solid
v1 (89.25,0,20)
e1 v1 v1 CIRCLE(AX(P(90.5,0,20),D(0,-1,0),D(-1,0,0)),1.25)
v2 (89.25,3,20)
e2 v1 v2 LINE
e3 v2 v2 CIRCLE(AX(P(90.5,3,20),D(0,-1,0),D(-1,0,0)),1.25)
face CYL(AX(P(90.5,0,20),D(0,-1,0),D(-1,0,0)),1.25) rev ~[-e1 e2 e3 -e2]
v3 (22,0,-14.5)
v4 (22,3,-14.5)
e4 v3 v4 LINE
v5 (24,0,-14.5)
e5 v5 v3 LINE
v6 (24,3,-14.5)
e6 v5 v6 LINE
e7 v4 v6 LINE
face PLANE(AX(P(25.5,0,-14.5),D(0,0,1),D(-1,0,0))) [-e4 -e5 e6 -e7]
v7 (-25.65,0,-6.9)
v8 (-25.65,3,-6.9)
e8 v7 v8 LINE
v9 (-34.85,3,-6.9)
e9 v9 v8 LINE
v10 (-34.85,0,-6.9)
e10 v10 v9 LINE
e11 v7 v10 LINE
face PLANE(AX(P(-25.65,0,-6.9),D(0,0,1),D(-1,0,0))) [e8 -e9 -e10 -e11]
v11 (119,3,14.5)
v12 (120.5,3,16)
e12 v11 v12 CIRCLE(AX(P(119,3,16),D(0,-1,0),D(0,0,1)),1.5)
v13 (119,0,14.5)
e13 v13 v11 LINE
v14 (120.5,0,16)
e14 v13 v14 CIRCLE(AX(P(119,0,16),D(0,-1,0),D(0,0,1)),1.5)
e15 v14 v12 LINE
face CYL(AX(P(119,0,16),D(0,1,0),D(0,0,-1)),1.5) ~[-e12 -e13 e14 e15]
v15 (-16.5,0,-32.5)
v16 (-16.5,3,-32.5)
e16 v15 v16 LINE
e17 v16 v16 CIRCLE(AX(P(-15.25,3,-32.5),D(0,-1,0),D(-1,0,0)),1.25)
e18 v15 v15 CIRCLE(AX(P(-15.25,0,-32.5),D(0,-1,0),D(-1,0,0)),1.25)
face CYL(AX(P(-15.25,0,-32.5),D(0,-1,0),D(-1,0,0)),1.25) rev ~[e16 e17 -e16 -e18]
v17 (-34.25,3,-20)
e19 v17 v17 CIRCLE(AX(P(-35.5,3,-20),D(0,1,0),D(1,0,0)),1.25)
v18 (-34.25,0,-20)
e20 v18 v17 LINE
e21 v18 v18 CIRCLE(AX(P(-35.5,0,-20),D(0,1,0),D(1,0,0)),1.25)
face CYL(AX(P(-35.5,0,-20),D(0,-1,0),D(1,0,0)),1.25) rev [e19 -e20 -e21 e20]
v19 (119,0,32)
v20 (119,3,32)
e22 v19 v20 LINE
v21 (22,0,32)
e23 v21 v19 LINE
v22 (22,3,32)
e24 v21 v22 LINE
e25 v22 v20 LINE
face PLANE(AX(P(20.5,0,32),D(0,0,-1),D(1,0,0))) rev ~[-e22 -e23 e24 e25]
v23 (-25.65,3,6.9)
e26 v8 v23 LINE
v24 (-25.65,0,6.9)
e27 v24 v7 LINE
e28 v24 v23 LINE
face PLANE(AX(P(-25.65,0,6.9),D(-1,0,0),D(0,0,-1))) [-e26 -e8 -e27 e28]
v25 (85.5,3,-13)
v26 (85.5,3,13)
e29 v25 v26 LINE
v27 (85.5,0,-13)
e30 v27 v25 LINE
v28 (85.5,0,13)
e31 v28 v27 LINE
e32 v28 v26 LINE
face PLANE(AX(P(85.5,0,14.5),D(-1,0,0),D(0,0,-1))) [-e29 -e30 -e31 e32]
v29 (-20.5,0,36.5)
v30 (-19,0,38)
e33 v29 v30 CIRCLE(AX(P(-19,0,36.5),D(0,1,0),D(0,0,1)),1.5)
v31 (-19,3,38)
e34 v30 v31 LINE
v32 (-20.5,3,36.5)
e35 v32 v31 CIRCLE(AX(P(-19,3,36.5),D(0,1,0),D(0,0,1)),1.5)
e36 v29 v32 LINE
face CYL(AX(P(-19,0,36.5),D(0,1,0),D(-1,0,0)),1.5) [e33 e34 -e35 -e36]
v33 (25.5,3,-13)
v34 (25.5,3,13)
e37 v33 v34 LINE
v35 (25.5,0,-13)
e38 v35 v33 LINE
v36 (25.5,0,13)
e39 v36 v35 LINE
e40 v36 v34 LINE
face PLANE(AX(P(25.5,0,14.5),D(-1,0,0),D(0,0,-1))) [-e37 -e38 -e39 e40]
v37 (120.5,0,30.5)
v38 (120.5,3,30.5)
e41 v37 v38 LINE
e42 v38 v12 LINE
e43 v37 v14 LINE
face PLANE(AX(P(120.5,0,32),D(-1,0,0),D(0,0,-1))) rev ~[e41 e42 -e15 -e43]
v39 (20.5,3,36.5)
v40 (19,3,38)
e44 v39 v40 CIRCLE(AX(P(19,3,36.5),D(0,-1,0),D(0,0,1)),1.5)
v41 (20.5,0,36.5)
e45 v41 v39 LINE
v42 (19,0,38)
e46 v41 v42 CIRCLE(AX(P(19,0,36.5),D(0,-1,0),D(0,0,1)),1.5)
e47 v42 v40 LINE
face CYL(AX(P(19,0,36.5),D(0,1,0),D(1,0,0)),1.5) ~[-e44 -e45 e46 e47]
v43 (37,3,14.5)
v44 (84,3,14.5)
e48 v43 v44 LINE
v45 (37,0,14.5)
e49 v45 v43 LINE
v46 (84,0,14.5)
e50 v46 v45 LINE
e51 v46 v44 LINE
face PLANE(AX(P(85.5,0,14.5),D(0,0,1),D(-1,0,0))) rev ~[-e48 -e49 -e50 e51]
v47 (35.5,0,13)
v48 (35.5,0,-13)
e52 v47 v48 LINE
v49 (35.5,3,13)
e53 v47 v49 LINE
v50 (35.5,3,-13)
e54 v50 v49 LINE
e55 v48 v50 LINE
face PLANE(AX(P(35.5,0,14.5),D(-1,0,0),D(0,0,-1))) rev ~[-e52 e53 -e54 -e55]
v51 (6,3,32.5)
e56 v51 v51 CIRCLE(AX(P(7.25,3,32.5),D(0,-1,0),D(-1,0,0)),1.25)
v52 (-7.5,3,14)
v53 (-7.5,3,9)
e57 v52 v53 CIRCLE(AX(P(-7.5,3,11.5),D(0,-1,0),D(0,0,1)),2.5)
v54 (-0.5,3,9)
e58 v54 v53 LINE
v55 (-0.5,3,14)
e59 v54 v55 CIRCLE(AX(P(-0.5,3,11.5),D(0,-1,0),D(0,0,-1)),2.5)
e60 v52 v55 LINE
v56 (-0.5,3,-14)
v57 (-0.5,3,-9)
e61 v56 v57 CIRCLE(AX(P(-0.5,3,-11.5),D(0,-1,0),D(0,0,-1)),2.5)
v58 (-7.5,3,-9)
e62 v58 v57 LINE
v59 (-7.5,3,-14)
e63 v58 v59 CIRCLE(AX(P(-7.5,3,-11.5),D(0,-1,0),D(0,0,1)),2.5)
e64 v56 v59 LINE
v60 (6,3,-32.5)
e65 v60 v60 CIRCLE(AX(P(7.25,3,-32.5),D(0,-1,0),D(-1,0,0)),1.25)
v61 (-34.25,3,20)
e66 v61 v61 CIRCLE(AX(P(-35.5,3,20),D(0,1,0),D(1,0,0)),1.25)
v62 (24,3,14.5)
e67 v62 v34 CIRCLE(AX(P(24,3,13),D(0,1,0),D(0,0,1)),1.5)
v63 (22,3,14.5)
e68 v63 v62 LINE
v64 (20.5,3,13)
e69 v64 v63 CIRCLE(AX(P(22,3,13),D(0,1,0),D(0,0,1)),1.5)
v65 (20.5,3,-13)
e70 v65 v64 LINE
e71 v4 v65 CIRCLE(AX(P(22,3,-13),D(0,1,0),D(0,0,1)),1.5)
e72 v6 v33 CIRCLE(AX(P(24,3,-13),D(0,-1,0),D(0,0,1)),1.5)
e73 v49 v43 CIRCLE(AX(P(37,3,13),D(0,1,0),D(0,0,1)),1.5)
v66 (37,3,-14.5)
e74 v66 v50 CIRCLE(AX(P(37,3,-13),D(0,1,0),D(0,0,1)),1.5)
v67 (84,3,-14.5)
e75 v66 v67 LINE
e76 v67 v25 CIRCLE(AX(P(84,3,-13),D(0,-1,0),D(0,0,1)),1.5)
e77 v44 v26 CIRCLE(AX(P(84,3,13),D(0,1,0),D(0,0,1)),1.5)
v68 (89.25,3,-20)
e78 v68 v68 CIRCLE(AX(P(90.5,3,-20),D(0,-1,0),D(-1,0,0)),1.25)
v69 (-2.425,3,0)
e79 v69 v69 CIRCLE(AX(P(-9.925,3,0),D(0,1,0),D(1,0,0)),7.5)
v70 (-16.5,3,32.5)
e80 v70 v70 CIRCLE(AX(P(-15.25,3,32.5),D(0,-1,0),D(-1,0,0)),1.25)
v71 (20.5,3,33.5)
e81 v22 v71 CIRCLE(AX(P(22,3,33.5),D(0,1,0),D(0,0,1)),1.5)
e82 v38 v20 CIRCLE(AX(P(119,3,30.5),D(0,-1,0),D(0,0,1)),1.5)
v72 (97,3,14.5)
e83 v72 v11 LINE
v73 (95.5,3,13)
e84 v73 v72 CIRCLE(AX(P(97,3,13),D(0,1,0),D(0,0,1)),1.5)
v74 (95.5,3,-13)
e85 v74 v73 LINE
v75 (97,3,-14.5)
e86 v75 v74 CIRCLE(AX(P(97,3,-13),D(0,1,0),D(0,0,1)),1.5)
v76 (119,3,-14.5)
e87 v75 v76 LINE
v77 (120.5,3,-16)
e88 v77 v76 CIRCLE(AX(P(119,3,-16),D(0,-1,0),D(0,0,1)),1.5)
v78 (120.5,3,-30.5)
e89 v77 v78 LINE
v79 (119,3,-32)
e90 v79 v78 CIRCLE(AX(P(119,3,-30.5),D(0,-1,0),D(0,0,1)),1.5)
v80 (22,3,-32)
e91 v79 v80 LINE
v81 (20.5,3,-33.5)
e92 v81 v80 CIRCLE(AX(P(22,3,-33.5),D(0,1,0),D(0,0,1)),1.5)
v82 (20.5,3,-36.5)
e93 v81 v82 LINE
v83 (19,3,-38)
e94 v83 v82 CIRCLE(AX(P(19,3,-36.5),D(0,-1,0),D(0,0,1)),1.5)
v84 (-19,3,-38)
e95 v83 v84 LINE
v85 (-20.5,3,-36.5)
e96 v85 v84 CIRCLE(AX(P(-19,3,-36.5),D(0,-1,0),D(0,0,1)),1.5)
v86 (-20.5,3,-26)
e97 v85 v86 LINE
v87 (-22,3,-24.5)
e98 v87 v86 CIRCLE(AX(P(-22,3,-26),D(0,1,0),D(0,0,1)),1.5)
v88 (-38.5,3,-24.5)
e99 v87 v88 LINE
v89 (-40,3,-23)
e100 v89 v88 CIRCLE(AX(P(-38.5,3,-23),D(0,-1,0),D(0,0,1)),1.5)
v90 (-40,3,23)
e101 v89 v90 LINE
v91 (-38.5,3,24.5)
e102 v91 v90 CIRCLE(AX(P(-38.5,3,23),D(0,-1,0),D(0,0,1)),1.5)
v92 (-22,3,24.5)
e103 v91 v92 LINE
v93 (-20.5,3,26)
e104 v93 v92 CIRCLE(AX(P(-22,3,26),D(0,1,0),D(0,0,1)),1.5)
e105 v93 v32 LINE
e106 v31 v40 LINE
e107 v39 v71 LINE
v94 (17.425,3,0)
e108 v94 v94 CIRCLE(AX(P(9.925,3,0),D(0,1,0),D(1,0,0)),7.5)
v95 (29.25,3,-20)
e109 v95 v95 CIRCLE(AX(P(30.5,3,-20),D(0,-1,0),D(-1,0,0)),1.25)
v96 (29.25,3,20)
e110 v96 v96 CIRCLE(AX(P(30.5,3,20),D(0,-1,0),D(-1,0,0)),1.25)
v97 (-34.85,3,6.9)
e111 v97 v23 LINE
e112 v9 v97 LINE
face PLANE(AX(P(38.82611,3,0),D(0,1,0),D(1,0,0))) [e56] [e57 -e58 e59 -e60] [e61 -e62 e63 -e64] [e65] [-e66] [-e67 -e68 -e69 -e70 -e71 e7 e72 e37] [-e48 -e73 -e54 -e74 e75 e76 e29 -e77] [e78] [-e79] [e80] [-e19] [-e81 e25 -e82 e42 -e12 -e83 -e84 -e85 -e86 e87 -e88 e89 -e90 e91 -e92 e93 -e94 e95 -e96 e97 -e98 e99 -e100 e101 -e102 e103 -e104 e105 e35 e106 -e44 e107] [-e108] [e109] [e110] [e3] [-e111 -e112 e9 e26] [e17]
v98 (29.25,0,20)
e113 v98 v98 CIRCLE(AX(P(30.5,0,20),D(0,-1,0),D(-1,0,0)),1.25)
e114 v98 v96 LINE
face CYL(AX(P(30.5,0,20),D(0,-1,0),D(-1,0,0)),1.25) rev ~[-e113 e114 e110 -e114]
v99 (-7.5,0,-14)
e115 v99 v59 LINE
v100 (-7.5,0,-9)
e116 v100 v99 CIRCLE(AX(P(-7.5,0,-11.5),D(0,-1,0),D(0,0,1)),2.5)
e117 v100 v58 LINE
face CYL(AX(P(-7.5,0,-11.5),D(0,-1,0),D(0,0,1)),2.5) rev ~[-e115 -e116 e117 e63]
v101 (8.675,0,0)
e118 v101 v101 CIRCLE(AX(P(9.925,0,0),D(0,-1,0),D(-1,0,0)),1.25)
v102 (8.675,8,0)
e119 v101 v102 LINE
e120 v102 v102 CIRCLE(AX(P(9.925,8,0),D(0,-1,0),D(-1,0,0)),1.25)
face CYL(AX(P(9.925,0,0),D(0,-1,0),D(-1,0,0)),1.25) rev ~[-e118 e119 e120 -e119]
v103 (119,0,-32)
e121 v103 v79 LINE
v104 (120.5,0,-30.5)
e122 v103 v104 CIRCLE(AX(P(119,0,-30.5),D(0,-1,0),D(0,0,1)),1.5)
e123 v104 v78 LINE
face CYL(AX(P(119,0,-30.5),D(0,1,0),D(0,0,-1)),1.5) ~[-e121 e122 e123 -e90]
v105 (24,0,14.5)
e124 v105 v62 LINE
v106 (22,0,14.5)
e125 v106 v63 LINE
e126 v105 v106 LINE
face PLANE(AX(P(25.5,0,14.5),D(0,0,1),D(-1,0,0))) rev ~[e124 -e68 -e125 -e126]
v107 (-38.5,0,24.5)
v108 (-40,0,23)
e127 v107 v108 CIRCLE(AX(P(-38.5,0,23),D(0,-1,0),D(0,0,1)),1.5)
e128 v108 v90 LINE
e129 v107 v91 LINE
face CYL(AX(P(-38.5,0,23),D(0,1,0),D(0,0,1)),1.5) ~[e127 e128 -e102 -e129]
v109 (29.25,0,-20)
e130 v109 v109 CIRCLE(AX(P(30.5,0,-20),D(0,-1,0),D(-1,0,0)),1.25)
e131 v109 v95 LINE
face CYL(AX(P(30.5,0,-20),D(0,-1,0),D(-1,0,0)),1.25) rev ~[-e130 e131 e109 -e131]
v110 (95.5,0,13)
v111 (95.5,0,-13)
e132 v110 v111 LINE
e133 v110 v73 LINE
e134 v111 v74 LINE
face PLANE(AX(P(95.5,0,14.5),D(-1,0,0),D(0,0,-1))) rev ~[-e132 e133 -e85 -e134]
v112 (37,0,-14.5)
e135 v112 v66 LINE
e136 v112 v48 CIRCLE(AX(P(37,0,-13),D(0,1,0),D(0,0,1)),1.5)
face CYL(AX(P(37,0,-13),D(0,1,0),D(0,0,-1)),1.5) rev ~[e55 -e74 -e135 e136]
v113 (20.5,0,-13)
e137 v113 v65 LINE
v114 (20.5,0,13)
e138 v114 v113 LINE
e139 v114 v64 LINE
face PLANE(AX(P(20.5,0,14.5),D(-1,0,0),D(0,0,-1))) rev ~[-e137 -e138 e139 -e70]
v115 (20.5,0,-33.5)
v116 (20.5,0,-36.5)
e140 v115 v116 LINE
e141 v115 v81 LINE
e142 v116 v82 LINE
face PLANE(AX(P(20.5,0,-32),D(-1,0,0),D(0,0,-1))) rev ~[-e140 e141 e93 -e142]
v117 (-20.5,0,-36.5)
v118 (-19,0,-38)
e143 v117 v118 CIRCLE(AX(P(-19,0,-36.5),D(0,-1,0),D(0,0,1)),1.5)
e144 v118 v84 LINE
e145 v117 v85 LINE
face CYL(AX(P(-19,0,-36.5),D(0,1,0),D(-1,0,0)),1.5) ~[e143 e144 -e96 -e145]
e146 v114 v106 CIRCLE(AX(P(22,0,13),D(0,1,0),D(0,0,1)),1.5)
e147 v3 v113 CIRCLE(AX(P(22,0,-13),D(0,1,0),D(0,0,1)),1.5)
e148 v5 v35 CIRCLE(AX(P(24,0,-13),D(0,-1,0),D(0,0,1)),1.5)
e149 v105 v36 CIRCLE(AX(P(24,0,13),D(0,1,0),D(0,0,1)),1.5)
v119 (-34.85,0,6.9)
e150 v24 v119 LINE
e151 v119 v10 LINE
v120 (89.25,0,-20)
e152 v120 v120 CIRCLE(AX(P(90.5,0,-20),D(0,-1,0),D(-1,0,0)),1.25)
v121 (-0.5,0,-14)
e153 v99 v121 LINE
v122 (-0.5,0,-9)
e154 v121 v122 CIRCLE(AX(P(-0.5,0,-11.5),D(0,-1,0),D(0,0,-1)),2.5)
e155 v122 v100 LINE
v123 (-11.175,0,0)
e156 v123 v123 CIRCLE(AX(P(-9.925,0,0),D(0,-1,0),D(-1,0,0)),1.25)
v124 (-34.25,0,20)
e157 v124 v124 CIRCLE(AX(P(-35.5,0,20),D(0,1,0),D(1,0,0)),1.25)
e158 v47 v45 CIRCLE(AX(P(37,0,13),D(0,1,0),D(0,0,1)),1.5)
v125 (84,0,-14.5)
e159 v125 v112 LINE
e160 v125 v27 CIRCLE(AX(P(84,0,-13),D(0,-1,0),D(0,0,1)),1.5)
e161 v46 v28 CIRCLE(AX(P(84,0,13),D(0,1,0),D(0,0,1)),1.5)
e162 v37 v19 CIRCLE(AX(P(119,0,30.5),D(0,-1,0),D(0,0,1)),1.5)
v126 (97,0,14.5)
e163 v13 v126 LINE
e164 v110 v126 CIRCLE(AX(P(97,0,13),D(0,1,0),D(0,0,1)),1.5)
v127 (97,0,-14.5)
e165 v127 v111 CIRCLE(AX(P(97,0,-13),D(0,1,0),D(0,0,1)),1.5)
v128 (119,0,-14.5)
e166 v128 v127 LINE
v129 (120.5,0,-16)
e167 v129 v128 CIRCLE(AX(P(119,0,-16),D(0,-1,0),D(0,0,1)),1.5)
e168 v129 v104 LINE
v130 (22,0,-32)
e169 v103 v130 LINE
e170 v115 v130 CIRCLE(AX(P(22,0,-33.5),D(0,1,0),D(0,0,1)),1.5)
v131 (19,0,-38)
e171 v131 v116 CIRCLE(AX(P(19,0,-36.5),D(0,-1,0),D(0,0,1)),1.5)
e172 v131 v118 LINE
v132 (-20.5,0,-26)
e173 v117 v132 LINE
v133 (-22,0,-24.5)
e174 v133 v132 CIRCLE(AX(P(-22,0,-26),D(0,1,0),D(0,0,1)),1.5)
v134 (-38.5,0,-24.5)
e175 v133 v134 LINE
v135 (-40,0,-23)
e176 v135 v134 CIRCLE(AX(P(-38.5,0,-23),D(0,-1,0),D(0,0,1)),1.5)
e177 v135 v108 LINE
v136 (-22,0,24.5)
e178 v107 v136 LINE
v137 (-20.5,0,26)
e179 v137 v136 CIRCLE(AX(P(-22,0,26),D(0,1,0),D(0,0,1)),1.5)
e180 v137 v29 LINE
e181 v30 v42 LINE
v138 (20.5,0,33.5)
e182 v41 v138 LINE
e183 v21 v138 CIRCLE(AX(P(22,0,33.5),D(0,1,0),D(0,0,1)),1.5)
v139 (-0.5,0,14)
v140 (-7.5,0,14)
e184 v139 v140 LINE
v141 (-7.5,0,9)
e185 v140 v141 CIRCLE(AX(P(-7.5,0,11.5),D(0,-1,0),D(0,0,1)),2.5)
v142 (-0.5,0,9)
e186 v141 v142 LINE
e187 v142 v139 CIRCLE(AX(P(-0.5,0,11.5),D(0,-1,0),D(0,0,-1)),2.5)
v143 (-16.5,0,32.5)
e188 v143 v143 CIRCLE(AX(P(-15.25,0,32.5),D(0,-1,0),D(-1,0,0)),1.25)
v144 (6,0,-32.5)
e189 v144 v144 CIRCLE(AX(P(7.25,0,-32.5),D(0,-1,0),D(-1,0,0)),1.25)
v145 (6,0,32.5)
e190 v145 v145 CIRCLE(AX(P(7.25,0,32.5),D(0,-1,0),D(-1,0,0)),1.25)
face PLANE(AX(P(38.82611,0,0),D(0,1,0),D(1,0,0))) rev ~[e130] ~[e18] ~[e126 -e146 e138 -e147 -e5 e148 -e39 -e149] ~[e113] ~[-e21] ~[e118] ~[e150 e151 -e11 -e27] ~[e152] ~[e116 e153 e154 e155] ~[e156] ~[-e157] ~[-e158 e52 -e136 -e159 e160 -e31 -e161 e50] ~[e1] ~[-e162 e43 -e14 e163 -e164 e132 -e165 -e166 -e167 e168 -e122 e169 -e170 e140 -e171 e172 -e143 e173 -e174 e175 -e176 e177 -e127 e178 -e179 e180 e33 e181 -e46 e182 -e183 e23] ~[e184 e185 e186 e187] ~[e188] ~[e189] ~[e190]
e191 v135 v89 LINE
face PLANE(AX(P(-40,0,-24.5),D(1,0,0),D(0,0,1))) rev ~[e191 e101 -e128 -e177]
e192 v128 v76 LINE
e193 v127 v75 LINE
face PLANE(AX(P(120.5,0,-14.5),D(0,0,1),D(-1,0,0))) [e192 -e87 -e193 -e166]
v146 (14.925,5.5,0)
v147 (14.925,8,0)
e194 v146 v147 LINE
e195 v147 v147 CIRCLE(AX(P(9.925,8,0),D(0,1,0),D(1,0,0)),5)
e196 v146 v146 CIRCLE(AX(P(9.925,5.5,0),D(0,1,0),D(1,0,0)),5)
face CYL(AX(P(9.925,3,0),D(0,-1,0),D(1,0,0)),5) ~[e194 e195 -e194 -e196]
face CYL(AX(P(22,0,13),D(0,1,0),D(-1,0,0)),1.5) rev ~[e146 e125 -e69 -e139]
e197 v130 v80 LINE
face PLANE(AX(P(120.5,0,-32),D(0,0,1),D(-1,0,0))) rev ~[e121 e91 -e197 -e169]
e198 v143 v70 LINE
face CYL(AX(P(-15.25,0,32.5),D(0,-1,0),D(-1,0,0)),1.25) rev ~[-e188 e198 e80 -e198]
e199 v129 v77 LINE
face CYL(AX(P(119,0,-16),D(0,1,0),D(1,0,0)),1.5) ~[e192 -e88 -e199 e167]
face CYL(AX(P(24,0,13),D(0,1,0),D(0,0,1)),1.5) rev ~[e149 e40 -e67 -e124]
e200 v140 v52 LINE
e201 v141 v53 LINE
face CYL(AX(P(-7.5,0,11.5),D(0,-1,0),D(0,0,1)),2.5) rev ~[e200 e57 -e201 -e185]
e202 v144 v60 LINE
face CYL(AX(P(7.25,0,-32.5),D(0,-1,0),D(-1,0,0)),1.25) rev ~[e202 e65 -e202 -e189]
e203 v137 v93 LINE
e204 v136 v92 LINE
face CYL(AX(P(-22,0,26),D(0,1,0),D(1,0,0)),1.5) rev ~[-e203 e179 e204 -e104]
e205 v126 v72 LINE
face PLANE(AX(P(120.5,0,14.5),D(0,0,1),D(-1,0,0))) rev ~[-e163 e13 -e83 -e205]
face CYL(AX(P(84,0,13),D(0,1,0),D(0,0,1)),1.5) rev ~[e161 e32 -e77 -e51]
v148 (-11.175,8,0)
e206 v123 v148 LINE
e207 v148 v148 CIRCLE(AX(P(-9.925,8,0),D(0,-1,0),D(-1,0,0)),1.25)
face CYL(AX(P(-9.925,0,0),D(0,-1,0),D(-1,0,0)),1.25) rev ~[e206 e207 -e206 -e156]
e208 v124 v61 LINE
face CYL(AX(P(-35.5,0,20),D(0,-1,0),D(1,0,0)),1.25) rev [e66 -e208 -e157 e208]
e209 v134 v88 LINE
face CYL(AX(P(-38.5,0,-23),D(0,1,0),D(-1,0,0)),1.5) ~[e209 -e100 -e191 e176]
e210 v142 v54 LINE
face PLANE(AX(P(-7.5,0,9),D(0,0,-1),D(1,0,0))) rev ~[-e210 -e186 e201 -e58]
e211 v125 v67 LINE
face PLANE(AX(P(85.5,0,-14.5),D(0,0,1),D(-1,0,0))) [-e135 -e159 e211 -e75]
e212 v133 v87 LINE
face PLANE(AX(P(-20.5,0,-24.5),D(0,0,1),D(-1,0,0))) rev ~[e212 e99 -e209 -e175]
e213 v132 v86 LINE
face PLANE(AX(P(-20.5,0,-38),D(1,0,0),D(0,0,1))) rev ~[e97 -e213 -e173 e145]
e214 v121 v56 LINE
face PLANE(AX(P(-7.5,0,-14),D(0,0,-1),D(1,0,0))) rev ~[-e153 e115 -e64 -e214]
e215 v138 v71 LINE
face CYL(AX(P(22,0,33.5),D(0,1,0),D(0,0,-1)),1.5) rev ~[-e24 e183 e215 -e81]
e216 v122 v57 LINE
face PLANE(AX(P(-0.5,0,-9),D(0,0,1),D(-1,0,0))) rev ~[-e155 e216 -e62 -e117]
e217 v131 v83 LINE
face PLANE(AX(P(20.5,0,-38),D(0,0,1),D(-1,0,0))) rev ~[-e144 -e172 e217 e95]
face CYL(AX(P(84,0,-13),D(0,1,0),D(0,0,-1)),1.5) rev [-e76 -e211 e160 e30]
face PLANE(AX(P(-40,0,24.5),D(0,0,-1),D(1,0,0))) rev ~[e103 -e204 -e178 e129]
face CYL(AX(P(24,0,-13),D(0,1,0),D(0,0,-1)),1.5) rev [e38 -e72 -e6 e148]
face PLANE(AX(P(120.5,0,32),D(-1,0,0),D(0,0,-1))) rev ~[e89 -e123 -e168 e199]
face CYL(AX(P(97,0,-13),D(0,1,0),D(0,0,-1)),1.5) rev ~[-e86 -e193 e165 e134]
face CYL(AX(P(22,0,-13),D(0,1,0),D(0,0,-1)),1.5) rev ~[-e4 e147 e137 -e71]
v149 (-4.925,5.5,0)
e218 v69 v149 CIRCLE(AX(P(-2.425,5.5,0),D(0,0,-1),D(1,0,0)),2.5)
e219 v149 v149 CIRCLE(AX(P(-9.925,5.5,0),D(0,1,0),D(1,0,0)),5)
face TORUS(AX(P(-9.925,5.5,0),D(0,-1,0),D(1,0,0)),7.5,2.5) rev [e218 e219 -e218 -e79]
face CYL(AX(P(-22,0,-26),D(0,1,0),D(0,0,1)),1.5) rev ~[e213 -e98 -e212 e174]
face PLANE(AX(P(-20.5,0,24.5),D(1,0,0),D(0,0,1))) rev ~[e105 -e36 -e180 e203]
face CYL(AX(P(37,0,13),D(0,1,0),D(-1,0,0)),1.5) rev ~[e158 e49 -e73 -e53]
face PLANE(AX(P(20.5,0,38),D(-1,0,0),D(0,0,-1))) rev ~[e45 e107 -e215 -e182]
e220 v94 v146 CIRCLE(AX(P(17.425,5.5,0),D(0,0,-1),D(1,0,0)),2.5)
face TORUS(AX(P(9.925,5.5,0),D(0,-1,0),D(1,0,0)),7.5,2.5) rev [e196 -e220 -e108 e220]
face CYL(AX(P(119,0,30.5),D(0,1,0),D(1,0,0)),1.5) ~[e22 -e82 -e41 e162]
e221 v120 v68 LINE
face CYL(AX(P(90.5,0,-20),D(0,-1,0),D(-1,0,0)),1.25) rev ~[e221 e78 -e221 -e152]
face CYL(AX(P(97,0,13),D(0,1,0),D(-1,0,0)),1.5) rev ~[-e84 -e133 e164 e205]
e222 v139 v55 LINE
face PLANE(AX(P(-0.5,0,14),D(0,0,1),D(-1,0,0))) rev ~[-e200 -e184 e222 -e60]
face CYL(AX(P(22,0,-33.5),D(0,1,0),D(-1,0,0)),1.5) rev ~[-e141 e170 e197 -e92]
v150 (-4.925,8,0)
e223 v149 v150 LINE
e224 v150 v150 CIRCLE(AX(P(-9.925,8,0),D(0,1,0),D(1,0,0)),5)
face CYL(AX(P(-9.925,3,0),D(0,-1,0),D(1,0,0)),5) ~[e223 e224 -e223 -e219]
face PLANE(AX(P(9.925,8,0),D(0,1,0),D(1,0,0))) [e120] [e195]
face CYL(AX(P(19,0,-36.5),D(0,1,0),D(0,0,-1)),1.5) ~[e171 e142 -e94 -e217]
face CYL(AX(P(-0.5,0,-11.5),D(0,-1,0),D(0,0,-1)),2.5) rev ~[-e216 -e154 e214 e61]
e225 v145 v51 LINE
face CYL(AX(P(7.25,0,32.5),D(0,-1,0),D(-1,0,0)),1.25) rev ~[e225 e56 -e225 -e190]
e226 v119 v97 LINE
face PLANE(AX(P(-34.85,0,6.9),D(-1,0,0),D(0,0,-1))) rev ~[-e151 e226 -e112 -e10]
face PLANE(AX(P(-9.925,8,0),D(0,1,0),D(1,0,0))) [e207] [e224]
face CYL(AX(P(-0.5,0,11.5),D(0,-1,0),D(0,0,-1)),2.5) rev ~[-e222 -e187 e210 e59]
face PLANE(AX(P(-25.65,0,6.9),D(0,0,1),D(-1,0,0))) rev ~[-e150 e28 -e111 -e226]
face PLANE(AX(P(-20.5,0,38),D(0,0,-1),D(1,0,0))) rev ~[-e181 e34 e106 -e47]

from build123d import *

# Parameters (mm, degrees)
SKETCH1_R           = 1.25
BOSS_EXTRUDE1_DEPTH = 3
SKETCH2_R           = 5
BOSS_EXTRUDE2_DEPTH = 5
FILLET1_R           = 2.5
SKETCH3_W           = 5
SKETCH3_H           = 29
SKETCH3_W_2         = 9.2
SKETCH3_H_2         = 13.8
SKETCH3_W_3         = 25
SKETCH3_W_4         = 50
SKETCH3_R           = 1.25
CUT_EXTRUDE1_DEPTH  = 9
FILLET2_R           = 1.5


with BuildPart() as part:
    # Sketch1 → Boss-Extrude1 (new body)
    with BuildSketch(Plane(origin=(0, 0, 0), x_dir=(1, 0, 0), z_dir=(0, 1, 0))):
        Polygon((-20.5, -38), (20.5, -38), (20.5, -32), (120.5, -32), (120.5, 32), (20.5, 32), (20.5, 38), (-20.5, 38), (-20.5, 24.5), (-40, 24.5), (-40, -24.5), (-20.5, -24.5), align=None)
        with Locations((-35.5, 20)):
            Circle(SKETCH1_R, mode=Mode.SUBTRACT)
        with Locations((-35.5, -20)):
            Circle(SKETCH1_R, mode=Mode.SUBTRACT)
    extrude(amount=BOSS_EXTRUDE1_DEPTH)

    # Sketch2 → Boss-Extrude2 (add)
    with BuildSketch(Plane(origin=(0, 3, 0), x_dir=(1, 0, 0), z_dir=(0, 1, 0))):
        with Locations((-9.925, 0)):
            Circle(SKETCH2_R)
        with Locations((9.925, 0)):
            Circle(SKETCH2_R)
    extrude(amount=BOSS_EXTRUDE2_DEPTH)

    # Fillet1
    fillet1_edges = [part.edges().sort_by_distance(p)[0] for p in [
        (-14.925, 3, 0),
        (4.925, 3, 0),
    ]]
    fillet(fillet1_edges, radius=FILLET1_R)

    # Sketch3 → Cut-Extrude1 (cut, through all)
    with BuildSketch(Plane(origin=(0, 0, 0), x_dir=(-1, 0, 0), z_dir=(0, -1, 0))):
        with Locations((-23, 0)):
            Rectangle(SKETCH3_W, SKETCH3_H)
        with BuildLine():
            Line((0.5, 9), (7.5, 9))
            ThreePointArc((7.5, 9), (10, 11.5), (7.5, 14))
            Line((7.5, 14), (0.5, 14))
            ThreePointArc((0.5, 14), (-2, 11.5), (0.5, 9))
        make_face()
        with BuildLine():
            Line((0.5, -14), (7.5, -14))
            ThreePointArc((7.5, -14), (10, -11.5), (7.5, -9))
            Line((7.5, -9), (0.5, -9))
            ThreePointArc((0.5, -9), (-2, -11.5), (0.5, -14))
        make_face()
        with Locations((30.25, 0)):
            Rectangle(SKETCH3_W_2, SKETCH3_H_2)
        with Locations((-108, 0)):
            Rectangle(SKETCH3_W_3, SKETCH3_H)
        with Locations((-60.5, 0)):
            Rectangle(SKETCH3_W_4, SKETCH3_H)
        with Locations((-30.5, -20)):
            Circle(SKETCH3_R)
        with Locations((-90.5, -20)):
            Circle(SKETCH3_R)
        with Locations((-30.5, 20)):
            Circle(SKETCH3_R)
        with Locations((-90.5, 20)):
            Circle(SKETCH3_R)
        with Locations((-7.25, 32.5)):
            Circle(SKETCH3_R)
        with Locations((15.25, 32.5)):
            Circle(SKETCH3_R)
        with Locations((-9.925, 0)):
            Circle(SKETCH3_R)
        with Locations((9.925, 0)):
            Circle(SKETCH3_R)
        with Locations((15.25, -32.5)):
            Circle(SKETCH3_R)
        with Locations((-7.25, -32.5)):
            Circle(SKETCH3_R)
    extrude(amount=-CUT_EXTRUDE1_DEPTH, mode=Mode.SUBTRACT)

    # Fillet2
    fillet2_edges = [part.edges().sort_by_distance(p)[0] for p in [
        (95.5, 1.5, -14.5),
        (95.5, 1.5, 14.5),
        (20.5, 1.5, 14.5),
        (25.5, 1.5, 14.5),
        (25.5, 1.5, -14.5),
        (20.5, 1.5, -14.5),
        (35.5, 1.5, -14.5),
        (35.5, 1.5, 14.5),
        (85.5, 1.5, 14.5),
        (85.5, 1.5, -14.5),
        (-20.5, 1.5, -38),
        (20.5, 1.5, -38),
        (20.5, 1.5, -32),
        (120.5, 1.5, -32),
        (120.5, 1.5, 32),
        (20.5, 1.5, 32),
        (20.5, 1.5, 38),
        (-20.5, 1.5, 38),
        (-20.5, 1.5, 24.5),
        (-40, 1.5, 24.5),
        (-40, 1.5, -24.5),
        (-20.5, 1.5, -24.5),
        (120.5, 1.5, -14.5),
        (120.5, 1.5, 14.5),
    ]]
    fillet(fillet2_edges, radius=FILLET2_R)


solid = part.part
